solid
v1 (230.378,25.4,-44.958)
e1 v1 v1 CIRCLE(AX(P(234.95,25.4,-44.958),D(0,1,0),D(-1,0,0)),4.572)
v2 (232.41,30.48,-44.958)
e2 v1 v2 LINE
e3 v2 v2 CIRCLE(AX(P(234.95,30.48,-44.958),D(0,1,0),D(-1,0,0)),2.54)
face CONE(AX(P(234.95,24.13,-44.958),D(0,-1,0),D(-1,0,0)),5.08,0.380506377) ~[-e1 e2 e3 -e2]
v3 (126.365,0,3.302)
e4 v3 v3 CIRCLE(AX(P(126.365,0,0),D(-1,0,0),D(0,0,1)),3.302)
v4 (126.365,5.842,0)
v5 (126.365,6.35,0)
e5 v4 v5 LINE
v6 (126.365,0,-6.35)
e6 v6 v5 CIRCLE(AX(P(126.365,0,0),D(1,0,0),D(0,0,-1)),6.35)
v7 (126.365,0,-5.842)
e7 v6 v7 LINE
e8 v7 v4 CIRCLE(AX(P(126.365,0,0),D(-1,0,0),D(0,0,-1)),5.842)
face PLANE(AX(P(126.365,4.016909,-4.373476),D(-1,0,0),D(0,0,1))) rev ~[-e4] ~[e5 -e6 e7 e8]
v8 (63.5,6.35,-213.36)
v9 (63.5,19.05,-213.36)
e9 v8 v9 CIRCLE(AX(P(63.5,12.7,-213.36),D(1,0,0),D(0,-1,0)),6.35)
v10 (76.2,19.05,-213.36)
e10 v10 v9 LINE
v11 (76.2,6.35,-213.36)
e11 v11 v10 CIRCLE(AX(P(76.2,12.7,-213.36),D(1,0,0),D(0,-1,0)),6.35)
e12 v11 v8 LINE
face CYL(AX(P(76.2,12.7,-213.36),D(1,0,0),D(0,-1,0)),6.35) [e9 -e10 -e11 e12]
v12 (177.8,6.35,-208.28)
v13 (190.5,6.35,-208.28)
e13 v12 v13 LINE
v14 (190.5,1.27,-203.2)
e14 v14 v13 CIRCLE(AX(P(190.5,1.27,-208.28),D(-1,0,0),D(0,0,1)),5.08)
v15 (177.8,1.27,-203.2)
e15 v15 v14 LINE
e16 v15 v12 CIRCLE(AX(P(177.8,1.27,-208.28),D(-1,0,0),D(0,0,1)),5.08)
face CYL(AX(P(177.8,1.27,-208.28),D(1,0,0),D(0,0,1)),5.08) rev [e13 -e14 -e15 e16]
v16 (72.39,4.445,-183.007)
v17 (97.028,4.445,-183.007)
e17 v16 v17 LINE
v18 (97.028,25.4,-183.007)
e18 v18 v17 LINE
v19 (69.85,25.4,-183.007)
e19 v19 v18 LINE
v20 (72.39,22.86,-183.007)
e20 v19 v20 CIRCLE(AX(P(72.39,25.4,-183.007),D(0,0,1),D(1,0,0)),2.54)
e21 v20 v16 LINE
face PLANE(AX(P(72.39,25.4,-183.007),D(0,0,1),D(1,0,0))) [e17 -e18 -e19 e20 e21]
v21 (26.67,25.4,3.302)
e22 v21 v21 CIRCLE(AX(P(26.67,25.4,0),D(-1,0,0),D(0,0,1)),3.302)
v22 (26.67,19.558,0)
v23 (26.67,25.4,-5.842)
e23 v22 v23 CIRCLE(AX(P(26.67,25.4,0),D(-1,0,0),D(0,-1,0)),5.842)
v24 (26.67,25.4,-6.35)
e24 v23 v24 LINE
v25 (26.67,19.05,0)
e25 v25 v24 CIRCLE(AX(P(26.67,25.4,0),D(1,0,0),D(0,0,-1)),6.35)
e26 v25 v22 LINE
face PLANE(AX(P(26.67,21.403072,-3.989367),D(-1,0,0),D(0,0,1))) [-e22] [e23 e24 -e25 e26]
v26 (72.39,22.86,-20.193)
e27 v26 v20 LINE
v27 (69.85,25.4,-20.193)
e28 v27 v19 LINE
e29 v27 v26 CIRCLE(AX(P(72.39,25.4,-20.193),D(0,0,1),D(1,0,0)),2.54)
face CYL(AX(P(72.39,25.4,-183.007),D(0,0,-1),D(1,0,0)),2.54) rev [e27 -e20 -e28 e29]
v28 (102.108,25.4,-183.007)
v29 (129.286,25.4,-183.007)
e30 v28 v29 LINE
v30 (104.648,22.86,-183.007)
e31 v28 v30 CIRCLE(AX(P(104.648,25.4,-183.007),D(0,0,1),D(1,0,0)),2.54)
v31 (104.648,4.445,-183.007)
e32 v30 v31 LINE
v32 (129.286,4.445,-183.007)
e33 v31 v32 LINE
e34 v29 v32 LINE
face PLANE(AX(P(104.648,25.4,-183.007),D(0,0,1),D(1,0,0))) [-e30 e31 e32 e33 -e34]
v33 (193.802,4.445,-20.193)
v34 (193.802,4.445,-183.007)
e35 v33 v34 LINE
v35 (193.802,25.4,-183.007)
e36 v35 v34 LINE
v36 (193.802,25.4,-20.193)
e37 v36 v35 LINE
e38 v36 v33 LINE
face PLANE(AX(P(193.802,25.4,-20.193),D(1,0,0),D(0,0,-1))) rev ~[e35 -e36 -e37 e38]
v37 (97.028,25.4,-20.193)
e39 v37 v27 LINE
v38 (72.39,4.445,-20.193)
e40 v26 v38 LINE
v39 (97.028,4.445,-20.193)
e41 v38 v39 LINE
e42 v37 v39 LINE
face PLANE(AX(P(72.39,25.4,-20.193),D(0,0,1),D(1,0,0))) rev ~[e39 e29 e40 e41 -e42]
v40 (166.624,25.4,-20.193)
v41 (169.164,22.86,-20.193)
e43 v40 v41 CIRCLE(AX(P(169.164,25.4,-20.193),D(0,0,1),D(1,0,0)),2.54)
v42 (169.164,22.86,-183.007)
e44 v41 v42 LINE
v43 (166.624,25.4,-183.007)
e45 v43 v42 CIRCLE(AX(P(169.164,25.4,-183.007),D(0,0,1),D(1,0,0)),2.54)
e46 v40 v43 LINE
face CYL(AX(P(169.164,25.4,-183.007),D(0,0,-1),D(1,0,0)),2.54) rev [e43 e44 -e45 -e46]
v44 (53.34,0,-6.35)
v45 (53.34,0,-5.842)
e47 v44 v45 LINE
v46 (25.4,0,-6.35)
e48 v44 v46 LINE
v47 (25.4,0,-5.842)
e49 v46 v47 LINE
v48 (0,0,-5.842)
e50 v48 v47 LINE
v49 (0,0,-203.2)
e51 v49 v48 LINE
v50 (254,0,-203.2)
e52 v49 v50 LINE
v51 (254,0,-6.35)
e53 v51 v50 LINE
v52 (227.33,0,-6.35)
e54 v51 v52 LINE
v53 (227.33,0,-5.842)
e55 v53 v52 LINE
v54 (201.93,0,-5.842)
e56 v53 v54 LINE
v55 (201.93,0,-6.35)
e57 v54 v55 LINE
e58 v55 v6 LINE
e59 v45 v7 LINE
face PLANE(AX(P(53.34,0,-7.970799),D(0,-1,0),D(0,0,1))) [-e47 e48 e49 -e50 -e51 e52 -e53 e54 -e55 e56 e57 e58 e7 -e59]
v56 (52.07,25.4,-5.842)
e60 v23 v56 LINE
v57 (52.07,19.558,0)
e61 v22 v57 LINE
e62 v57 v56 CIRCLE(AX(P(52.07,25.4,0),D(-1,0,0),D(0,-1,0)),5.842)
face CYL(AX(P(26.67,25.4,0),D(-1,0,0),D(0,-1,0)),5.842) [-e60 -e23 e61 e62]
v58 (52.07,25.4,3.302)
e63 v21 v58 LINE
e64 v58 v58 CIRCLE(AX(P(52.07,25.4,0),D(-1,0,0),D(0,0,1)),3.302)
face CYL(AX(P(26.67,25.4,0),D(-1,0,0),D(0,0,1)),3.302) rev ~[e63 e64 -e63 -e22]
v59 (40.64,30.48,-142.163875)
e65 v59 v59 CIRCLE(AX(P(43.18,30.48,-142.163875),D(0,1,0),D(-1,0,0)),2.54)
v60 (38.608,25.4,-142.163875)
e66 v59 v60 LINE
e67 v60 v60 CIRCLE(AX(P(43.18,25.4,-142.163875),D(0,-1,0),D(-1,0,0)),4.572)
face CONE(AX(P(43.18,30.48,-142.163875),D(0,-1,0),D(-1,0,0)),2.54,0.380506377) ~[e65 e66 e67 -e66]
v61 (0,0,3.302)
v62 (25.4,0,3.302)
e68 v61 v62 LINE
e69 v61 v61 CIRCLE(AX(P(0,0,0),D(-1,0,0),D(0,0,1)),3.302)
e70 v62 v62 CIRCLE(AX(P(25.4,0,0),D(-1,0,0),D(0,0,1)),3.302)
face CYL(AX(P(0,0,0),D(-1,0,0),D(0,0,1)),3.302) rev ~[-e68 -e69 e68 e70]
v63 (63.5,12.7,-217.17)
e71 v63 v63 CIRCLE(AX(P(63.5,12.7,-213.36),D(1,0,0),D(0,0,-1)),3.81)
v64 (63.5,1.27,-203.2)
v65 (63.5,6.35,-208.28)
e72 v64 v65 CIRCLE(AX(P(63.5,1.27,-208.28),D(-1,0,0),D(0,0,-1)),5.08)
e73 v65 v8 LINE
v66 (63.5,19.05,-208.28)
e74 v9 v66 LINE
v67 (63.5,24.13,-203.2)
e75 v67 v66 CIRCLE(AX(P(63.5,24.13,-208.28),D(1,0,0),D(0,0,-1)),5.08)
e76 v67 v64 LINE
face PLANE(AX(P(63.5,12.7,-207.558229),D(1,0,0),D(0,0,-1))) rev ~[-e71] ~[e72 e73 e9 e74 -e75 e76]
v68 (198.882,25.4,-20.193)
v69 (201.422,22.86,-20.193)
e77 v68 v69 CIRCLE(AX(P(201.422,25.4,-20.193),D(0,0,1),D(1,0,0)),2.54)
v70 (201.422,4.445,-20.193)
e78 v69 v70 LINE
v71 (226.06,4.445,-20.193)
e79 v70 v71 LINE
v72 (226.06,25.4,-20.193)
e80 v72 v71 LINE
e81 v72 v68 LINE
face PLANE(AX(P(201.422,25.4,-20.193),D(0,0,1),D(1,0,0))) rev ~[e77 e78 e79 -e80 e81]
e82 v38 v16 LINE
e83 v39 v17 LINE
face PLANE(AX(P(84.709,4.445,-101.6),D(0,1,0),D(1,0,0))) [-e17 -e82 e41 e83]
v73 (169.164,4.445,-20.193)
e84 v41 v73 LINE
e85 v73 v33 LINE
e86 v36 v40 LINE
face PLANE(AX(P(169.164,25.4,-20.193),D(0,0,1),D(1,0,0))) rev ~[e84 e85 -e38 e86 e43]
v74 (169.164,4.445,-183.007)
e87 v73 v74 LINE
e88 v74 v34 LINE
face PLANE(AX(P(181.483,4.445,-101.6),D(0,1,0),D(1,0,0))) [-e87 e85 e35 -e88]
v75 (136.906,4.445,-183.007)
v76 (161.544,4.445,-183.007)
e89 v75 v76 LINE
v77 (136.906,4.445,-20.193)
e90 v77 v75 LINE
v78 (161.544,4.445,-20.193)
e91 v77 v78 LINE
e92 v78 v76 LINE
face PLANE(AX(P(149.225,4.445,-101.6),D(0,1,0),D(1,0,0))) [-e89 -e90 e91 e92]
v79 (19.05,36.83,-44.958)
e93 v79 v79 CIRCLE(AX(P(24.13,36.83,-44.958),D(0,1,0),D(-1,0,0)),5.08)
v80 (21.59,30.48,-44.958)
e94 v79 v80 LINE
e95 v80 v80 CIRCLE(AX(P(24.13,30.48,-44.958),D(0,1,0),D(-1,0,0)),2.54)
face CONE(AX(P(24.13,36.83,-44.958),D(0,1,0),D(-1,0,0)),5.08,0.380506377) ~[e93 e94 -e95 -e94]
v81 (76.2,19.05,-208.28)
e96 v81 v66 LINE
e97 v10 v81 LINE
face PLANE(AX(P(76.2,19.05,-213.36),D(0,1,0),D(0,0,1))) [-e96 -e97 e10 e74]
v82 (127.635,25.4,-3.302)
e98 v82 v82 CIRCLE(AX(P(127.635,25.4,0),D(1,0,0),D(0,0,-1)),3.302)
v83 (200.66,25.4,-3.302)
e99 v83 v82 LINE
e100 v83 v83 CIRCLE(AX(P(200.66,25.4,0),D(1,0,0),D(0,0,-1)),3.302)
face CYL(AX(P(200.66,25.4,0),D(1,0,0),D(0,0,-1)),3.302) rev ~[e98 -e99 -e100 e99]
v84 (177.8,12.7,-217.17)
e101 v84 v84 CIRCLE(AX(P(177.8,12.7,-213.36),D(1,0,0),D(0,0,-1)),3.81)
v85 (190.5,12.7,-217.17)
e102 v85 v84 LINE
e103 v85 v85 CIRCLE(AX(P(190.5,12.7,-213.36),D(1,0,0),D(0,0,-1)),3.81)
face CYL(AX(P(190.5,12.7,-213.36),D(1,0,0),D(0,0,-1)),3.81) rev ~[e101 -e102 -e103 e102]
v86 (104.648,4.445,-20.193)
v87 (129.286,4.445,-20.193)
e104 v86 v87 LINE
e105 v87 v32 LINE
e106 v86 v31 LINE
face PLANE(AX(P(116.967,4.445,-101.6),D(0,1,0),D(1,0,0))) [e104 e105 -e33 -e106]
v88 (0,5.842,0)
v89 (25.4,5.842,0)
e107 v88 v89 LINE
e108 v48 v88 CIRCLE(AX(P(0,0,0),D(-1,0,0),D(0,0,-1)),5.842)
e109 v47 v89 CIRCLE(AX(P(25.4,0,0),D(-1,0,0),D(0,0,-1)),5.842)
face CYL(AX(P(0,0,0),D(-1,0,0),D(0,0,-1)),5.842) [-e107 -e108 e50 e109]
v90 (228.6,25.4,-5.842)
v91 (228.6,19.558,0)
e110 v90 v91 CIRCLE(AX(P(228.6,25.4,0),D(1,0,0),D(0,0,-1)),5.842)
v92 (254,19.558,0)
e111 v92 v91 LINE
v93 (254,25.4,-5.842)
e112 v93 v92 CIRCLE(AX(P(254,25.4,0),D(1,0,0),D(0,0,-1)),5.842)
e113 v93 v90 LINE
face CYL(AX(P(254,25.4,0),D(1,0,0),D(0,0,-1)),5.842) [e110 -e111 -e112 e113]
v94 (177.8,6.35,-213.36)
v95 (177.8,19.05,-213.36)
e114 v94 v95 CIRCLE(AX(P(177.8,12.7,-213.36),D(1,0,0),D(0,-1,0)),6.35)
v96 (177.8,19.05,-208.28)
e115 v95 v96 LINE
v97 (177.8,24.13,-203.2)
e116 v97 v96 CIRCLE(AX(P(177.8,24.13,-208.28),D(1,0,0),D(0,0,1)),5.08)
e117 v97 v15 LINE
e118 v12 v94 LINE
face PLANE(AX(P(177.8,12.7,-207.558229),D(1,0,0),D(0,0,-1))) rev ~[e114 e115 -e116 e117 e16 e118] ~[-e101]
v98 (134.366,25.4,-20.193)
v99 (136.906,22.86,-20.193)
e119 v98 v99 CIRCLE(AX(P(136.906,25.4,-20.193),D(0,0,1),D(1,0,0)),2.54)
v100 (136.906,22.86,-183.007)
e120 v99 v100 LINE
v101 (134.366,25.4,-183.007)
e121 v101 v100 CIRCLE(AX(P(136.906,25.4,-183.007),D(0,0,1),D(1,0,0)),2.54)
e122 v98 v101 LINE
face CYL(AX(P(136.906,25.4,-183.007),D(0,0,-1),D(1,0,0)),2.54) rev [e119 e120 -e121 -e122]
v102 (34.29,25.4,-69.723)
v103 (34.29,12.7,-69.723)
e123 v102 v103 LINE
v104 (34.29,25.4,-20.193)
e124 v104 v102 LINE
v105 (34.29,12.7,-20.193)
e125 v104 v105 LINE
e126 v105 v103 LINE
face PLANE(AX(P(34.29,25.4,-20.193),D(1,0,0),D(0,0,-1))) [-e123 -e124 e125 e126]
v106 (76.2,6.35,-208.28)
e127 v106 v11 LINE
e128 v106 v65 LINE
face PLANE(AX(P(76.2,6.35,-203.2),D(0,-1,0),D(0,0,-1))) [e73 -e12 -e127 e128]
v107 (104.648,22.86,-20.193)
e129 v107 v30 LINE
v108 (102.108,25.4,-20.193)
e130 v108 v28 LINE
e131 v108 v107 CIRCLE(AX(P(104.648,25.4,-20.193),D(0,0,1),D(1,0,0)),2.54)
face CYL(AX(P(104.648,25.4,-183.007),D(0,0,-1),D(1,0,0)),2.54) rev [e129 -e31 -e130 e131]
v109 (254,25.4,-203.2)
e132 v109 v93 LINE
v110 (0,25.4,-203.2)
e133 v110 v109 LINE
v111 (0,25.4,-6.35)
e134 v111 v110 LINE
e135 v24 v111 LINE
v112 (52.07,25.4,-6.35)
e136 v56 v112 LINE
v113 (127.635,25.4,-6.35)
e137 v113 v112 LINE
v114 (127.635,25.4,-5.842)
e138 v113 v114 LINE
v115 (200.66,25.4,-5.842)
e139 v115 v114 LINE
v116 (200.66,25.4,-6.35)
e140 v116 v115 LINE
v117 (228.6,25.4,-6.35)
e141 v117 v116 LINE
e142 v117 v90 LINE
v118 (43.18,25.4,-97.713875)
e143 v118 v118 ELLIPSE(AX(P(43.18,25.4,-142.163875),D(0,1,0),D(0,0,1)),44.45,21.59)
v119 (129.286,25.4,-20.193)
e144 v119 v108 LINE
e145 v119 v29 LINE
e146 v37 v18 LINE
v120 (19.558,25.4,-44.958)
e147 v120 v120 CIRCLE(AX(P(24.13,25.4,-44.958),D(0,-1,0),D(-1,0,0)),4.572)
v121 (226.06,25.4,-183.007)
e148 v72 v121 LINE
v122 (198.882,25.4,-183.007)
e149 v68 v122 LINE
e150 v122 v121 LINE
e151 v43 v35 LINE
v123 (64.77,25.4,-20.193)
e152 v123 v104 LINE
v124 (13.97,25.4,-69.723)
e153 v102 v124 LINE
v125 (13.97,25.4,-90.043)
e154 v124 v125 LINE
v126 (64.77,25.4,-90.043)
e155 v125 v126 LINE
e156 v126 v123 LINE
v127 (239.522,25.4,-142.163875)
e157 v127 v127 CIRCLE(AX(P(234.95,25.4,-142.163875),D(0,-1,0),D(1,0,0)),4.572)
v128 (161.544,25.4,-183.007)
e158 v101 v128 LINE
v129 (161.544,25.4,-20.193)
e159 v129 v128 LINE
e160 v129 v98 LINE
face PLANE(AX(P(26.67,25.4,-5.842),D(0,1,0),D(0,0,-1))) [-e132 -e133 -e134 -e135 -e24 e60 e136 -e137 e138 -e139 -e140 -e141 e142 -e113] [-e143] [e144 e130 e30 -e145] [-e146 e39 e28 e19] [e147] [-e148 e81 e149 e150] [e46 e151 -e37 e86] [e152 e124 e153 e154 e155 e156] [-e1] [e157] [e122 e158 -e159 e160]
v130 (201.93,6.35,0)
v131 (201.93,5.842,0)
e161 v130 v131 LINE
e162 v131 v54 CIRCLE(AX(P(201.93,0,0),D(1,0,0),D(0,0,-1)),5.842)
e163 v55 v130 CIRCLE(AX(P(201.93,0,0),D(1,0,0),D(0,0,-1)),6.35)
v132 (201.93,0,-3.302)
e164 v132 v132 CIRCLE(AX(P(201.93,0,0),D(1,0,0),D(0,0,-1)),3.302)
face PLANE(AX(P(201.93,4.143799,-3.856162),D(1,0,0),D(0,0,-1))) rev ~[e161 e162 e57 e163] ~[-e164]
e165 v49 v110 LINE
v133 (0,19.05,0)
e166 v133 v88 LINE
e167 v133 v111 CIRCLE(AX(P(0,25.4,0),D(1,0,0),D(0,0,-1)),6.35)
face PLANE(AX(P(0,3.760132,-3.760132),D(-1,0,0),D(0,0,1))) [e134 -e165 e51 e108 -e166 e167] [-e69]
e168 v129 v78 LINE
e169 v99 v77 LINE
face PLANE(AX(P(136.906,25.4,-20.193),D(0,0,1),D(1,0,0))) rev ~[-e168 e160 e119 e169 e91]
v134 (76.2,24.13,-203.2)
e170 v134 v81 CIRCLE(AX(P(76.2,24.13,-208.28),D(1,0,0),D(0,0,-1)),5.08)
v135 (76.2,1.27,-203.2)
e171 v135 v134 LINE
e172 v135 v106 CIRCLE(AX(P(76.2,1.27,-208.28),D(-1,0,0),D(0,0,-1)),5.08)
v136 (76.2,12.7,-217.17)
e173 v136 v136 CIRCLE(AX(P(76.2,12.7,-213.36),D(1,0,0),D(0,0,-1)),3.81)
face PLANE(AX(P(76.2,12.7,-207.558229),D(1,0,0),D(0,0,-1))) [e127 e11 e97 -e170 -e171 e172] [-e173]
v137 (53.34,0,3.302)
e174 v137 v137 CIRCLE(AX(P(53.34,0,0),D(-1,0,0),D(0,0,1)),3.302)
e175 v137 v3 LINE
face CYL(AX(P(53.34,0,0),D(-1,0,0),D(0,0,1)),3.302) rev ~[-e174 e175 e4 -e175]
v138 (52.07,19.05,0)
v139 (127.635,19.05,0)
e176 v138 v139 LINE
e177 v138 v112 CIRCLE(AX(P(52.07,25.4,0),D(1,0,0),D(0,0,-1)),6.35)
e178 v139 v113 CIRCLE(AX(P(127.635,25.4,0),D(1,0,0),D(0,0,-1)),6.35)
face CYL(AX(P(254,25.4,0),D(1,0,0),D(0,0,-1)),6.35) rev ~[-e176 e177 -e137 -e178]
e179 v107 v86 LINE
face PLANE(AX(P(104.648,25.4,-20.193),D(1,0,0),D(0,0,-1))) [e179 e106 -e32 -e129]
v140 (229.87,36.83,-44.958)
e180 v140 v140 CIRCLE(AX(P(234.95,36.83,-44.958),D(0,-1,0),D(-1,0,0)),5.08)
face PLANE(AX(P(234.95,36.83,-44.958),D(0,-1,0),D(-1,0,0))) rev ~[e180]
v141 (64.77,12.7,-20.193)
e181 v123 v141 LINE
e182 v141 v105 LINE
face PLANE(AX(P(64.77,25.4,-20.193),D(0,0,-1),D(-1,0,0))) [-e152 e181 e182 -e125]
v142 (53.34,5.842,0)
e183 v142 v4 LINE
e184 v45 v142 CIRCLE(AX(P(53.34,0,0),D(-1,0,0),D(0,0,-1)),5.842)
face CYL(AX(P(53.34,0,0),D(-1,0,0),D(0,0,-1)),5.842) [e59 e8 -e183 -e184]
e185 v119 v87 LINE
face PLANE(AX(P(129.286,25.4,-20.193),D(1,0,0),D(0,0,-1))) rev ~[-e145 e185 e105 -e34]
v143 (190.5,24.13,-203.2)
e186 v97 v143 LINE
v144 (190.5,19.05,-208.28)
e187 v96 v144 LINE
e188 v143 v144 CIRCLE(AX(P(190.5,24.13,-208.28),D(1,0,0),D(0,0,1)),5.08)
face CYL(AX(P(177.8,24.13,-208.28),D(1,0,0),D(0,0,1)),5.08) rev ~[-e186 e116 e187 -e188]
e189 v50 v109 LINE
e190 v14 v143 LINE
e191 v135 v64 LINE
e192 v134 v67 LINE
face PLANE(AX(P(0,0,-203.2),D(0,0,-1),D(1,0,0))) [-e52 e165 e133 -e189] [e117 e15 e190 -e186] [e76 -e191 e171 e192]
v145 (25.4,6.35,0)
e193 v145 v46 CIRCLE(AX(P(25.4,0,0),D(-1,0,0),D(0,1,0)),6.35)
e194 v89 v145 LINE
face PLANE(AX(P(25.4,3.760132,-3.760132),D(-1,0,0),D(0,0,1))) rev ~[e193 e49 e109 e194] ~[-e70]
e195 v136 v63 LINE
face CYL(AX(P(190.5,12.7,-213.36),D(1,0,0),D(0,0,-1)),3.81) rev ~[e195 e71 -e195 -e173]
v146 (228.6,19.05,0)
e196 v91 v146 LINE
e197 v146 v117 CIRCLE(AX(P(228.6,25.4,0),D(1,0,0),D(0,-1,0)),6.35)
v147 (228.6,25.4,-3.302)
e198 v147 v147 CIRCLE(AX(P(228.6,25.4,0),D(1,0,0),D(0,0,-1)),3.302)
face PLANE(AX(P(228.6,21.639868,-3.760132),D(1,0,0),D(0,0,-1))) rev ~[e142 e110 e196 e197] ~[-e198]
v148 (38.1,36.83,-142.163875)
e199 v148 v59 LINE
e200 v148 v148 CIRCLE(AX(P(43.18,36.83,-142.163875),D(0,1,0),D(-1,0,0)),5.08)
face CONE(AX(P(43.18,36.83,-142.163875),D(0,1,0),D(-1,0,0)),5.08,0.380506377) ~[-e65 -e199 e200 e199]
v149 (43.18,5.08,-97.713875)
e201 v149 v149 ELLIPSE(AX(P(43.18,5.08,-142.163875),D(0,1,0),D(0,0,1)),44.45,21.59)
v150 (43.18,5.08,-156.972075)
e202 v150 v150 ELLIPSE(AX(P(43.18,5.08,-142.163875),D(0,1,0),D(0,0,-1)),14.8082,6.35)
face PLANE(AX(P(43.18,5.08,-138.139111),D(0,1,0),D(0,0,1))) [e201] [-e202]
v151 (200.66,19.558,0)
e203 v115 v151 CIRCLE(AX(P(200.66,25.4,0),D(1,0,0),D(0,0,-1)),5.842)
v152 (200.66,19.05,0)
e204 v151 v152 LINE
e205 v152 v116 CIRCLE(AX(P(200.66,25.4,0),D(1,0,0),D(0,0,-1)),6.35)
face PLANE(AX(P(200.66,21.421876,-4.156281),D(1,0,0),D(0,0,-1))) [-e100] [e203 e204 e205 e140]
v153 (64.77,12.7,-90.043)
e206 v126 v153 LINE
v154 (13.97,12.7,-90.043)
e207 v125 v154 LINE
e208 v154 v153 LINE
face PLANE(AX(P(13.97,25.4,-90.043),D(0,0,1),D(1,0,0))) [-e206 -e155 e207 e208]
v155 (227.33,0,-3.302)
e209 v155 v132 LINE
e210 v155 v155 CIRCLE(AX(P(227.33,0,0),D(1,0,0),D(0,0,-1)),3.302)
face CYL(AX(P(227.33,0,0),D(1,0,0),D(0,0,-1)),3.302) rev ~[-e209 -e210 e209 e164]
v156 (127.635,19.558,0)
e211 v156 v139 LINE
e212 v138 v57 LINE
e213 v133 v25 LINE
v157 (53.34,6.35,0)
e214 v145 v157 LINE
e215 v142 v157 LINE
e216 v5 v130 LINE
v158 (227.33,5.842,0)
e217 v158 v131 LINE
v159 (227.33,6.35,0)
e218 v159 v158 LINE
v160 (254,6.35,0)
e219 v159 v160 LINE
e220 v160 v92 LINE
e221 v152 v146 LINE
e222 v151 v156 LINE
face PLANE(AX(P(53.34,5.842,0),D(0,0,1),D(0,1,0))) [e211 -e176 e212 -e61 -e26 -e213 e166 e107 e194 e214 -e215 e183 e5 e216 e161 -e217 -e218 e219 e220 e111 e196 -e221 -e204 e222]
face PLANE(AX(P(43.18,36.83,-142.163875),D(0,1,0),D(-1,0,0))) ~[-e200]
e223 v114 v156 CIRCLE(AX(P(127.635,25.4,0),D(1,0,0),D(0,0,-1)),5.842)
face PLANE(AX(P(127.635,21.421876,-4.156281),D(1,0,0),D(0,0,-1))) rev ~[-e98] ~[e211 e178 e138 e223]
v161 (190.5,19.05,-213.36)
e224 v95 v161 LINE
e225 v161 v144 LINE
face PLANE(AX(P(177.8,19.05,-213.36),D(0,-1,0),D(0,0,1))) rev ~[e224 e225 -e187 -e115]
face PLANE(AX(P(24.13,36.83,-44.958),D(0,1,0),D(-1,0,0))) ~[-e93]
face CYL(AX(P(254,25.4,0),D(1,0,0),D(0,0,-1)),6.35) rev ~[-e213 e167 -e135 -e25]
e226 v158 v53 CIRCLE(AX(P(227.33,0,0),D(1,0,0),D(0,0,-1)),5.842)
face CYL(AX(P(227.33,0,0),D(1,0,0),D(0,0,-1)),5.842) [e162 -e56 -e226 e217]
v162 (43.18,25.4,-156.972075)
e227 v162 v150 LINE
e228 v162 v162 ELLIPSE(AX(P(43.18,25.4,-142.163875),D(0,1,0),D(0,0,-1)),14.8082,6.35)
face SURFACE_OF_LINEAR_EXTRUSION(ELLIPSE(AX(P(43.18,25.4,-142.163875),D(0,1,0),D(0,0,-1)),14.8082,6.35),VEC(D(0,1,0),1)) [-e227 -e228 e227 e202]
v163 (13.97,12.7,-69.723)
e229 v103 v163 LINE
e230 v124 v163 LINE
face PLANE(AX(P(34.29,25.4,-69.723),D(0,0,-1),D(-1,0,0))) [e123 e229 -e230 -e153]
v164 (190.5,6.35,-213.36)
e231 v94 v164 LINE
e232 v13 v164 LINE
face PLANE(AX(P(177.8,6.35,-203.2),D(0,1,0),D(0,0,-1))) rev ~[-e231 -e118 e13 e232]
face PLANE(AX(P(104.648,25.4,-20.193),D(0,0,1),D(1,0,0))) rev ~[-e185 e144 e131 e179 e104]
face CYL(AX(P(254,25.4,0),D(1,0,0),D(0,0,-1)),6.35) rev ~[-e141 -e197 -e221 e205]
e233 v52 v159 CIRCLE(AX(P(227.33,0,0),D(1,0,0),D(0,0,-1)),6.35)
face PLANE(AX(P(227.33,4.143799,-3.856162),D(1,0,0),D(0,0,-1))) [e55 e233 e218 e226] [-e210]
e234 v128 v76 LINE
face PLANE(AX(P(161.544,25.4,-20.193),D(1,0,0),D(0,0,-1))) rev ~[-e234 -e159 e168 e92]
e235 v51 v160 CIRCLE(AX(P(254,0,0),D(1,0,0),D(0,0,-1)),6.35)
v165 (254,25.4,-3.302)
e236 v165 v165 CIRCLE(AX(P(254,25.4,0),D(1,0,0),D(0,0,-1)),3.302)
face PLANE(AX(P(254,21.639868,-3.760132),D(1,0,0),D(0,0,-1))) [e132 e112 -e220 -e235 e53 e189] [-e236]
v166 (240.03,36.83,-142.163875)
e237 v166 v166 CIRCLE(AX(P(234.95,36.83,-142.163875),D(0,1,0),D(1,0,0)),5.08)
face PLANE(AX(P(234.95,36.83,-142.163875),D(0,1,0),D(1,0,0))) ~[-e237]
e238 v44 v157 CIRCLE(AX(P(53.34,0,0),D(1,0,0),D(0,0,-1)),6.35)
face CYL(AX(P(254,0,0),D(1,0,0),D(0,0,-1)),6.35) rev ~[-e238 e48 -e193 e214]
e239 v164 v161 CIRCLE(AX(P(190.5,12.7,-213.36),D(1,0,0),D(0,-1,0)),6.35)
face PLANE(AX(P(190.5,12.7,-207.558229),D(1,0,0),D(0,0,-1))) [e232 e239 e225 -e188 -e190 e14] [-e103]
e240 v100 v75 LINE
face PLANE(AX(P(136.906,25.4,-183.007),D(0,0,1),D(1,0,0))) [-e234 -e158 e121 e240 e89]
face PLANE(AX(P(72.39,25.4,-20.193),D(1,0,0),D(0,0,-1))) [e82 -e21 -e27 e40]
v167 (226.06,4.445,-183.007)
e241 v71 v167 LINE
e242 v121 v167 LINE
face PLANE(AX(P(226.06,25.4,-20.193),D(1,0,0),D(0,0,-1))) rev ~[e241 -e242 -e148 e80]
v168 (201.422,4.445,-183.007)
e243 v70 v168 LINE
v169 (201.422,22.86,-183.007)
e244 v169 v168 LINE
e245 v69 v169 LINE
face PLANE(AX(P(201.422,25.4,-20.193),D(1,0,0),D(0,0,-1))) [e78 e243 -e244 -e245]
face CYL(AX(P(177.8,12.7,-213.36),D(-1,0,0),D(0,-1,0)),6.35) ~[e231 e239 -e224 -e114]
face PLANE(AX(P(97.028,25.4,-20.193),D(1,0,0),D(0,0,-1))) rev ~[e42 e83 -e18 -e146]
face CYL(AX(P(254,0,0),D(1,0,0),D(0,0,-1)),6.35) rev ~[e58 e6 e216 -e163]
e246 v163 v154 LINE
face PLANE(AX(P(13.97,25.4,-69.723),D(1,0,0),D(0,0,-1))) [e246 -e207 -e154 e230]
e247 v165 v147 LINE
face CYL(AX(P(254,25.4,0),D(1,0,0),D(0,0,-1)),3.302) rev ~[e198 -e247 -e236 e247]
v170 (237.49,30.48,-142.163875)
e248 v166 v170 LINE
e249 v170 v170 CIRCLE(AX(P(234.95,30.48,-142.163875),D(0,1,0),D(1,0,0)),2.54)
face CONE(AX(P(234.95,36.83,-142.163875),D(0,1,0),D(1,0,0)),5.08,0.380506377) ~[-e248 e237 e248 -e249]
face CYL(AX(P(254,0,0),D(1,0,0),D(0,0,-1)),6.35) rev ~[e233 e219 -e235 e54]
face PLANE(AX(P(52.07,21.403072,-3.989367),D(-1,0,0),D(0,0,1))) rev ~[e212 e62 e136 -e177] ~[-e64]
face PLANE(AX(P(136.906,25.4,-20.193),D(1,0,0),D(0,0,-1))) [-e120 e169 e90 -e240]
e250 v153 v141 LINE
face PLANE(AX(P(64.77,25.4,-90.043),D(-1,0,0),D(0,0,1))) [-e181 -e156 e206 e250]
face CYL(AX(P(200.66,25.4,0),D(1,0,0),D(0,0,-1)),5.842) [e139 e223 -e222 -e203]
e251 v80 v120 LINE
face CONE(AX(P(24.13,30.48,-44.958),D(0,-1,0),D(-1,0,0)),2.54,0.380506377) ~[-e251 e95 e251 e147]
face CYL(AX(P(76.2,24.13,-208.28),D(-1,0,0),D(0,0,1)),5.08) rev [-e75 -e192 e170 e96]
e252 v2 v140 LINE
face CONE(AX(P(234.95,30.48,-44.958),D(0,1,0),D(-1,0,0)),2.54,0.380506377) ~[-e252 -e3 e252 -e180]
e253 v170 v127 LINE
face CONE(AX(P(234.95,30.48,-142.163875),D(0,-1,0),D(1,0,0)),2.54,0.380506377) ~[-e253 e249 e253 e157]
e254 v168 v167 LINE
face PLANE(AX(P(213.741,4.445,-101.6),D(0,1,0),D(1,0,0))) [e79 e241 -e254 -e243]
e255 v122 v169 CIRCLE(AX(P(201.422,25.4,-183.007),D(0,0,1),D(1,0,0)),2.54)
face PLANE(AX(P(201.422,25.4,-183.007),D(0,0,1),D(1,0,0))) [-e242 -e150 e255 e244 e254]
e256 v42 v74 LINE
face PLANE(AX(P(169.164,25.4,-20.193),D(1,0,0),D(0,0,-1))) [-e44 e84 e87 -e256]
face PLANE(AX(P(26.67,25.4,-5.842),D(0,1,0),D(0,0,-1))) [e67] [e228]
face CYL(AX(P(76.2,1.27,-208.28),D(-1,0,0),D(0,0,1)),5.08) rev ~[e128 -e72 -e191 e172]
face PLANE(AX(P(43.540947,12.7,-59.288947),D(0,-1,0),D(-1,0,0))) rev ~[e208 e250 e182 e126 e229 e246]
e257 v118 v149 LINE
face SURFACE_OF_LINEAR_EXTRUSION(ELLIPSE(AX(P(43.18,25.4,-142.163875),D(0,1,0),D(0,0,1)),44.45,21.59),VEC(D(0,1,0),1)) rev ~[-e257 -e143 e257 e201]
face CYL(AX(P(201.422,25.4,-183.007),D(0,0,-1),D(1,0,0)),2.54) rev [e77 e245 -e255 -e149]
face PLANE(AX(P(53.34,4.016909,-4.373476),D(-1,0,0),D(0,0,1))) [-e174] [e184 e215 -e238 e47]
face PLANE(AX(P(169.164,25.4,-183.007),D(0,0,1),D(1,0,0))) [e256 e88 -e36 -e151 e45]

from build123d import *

# Parameters (mm, degrees)
SKETCH1_W            = 254
SKETCH1_H            = 203.2
BOSS_EXTRUDE2_DEPTH  = 25.4
SKETCH2_W            = 24.638
SKETCH2_H            = 162.814
CUT_EXTRUDE1_DEPTH   = 20.955
SKETCH3_R            = 2.54
CUT_EXTRUDE2_DEPTH   = 162.814
SKETCH4_R            = 6.35
CUT_EXTRUDE3_DEPTH   = 330.708
SKETCH5_R            = 5.842
SKETCH5_R_2          = 3.302
BOSS_EXTRUDE3_DEPTH  = 25.4
SKETCH7_R            = 5.842
SKETCH7_R_2          = 3.302
BOSS_EXTRUDE4_DEPTH  = 25.4
SKETCH9_R            = 5.842
SKETCH9_R_2          = 3.302
BOSS_EXTRUDE5_DEPTH  = 73.025
SKETCH11_R           = 6.35
CUT_EXTRUDE4_DEPTH   = 271.907
SKETCH12_R           = 5.842
SKETCH12_R_2         = 3.302
BOSS_EXTRUDE6_DEPTH  = 25.4
SKETCH14_R           = 5.842
SKETCH14_R_2         = 3.302
BOSS_EXTRUDE7_DEPTH  = 73.025
SKETCH17_R           = 5.842
SKETCH17_R_2         = 3.302
BOSS_EXTRUDE8_DEPTH  = 25.4
CUT_EXTRUDE5_DEPTH   = 12.7
SKETCH20_RX          = 44.45
SKETCH20_RY          = 21.59
SKETCH20_RX_2        = 14.8082
SKETCH20_RY_2        = 6.35
CUT_EXTRUDE6_DEPTH   = 20.32
SKETCH24_R           = 2.54
BOSS_EXTRUDE9_DEPTH  = 5.08
SKETCH25_R           = 2.54
BOSS_EXTRUDE10_DEPTH = 5.08
SKETCH28_R           = 6.35
BOSS_EXTRUDE11_DEPTH = 12.7
SKETCH30_R           = 6.35
BOSS_EXTRUDE12_DEPTH = 12.7
SKETCH31_R           = 3.81
CUT_EXTRUDE7_DEPTH   = 150.114
FILLET1_R            = 5.08


with BuildPart() as part:
    # Sketch1 → Boss-Extrude2 (new body)
    with BuildSketch(Plane(origin=(0, 0, 0), x_dir=(1, 0, 0), z_dir=(0, 1, 0))):
        with Locations((127, 101.6)):
            Rectangle(SKETCH1_W, SKETCH1_H)
    extrude(amount=BOSS_EXTRUDE2_DEPTH)

    # Sketch2 → Cut-Extrude1 (cut)
    with BuildSketch(Plane(origin=(0, 25.4, 0), x_dir=(1, 0, 0), z_dir=(0, 1, 0))):
        with Locations((84.709, 101.6)):
            Rectangle(SKETCH2_W, SKETCH2_H)
        with Locations((116.967, 101.6)):
            Rectangle(SKETCH2_W, SKETCH2_H)
        with Locations((149.225, 101.6)):
            Rectangle(SKETCH2_W, SKETCH2_H)
        with Locations((181.483, 101.6)):
            Rectangle(SKETCH2_W, SKETCH2_H)
        with Locations((213.741, 101.6)):
            Rectangle(SKETCH2_W, SKETCH2_H)
    extrude(amount=-CUT_EXTRUDE1_DEPTH, mode=Mode.SUBTRACT)

    # Sketch3 → Cut-Extrude2 (cut)
    with BuildSketch(Plane.XY.offset(-183.007)):
        with Locations((72.39, 25.4)):
            Circle(SKETCH3_R)
        with Locations((104.648, 25.4)):
            Circle(SKETCH3_R)
        with Locations((136.906, 25.4)):
            Circle(SKETCH3_R)
        with Locations((169.164, 25.4)):
            Circle(SKETCH3_R)
        with Locations((201.422, 25.4)):
            Circle(SKETCH3_R)
    extrude(amount=CUT_EXTRUDE2_DEPTH, mode=Mode.SUBTRACT)

    # Sketch4 → Cut-Extrude3 (cut)
    with BuildSketch(Plane(origin=(254, 0, 0), x_dir=(0, 0, -1), z_dir=(1, 0, 0))):
        with Locations((0, 25.4)):
            Circle(SKETCH4_R)
    extrude(amount=-CUT_EXTRUDE3_DEPTH, mode=Mode.SUBTRACT)

    # Sketch5 → Boss-Extrude3 (add)
    with BuildSketch(Plane(origin=(254, 0, 0), x_dir=(0, 0, -1), z_dir=(1, 0, 0))):
        with BuildLine():
            ThreePointArc((5.842, 25.4), (4.130917816, 21.269082184), (0, 19.558))
            Line((0, 19.558), (0, 19.05))
            ThreePointArc((0, 19.05), (4.490128061, 20.909871939), (6.35, 25.4))
            Line((6.35, 25.4), (5.842, 25.4))
        make_face()
        with Locations((0, 25.4)):
            Circle(SKETCH5_R)
        with Locations((0, 25.4)):
            Circle(SKETCH5_R_2, mode=Mode.SUBTRACT)
    extrude(amount=-BOSS_EXTRUDE3_DEPTH)

    # Sketch7 → Boss-Extrude4 (add)
    with BuildSketch(Plane.ZY.offset(-26.67)):
        with BuildLine():
            ThreePointArc((0, 19.558), (-4.130917816, 21.269082184), (-5.842, 25.4))
            Line((-5.842, 25.4), (-6.902928933, 25.4))
            Line((-6.902928933, 25.4), (-6.372464466, 22.098))
            Line((-6.372464466, 22.098), (-4.097007923, 19.395027099))
            Line((-4.097007923, 19.395027099), (0, 18.4548232))
            Line((0, 18.4548232), (0, 19.558))
        make_face()
        with Locations((0, 25.4)):
            Circle(SKETCH7_R)
        with Locations((0, 25.4)):
            Circle(SKETCH7_R_2, mode=Mode.SUBTRACT)
    extrude(amount=-BOSS_EXTRUDE4_DEPTH)

    # Sketch9 → Boss-Extrude5 (add)
    with BuildSketch(Plane(origin=(200.66, 0, 0), x_dir=(0, 0, -1), z_dir=(1, 0, 0))):
        with BuildLine():
            Line((7.296114835, 25.4), (5.842, 25.4))
            ThreePointArc((5.842, 25.4), (4.130917816, 21.269082184), (0, 19.558))
            Line((0, 19.558), (0, 18.462733019))
            Line((0, 18.462733019), (2.519044433, 18.922066711))
            Line((2.519044433, 18.922066711), (5.842, 20.162267681))
            Line((5.842, 20.162267681), (7.296114835, 25.4))
        make_face()
        with Locations((0, 25.4)):
            Circle(SKETCH9_R)
        with Locations((0, 25.4)):
            Circle(SKETCH9_R_2, mode=Mode.SUBTRACT)
    extrude(amount=-BOSS_EXTRUDE5_DEPTH)

    # Sketch11 → Cut-Extrude4 (cut)
    with BuildSketch(Plane(origin=(254, 0, 0), x_dir=(0, 0, -1), z_dir=(1, 0, 0))):
        Circle(SKETCH11_R)
    extrude(amount=-CUT_EXTRUDE4_DEPTH, mode=Mode.SUBTRACT)

    # Sketch12 → Boss-Extrude6 (add)
    with BuildSketch(Plane.ZY):
        with BuildLine():
            ThreePointArc((-5.842, 0), (-4.130917816, 4.130917816), (0, 5.842))
            Line((0, 5.842), (0, 6.35))
            ThreePointArc((0, 6.35), (-4.490128061, 4.490128061), (-6.35, 0))
            Line((-6.35, 0), (-5.842, 0))
        make_face()
        Circle(SKETCH12_R)
        Circle(SKETCH12_R_2, mode=Mode.SUBTRACT)
    extrude(amount=-BOSS_EXTRUDE6_DEPTH)

    # Sketch14 → Boss-Extrude7 (add)
    with BuildSketch(Plane.ZY.offset(-53.34)):
        with BuildLine():
            ThreePointArc((-5.842, 0), (-4.130917816, 4.130917816), (0, 5.842))
            Line((0, 5.842), (0, 7.34197102))
            Line((0, 7.34197102), (-6.416971857, 5.34789306))
            Line((-6.416971857, 5.34789306), (-7.97079884, 0))
            Line((-7.97079884, 0), (-5.842, 0))
        make_face()
        Circle(SKETCH14_R)
        Circle(SKETCH14_R_2, mode=Mode.SUBTRACT)
    extrude(amount=-BOSS_EXTRUDE7_DEPTH)

    # Sketch17 → Boss-Extrude8 (add)
    with BuildSketch(Plane(origin=(227.33, 0, 0), x_dir=(0, 0, -1), z_dir=(1, 0, 0))):
        with BuildLine():
            Line((0, 7.437449264), (0, 5.842))
            ThreePointArc((0, 5.842), (4.130917816, 4.130917816), (5.842, 0))
            Line((5.842, 0), (6.728774343, 0))
            Line((6.728774343, 0), (5.842, 4.854950807))
            Line((5.842, 4.854950807), (0, 7.437449264))
        make_face()
        Circle(SKETCH17_R)
        Circle(SKETCH17_R_2, mode=Mode.SUBTRACT)
    extrude(amount=-BOSS_EXTRUDE8_DEPTH)

    # Sketch19 → Cut-Extrude5 (cut)
    with BuildSketch(Plane(origin=(0, 25.4, 0), x_dir=(1, 0, 0), z_dir=(0, 1, 0))):
        Polygon((13.97, 90.043), (64.77, 90.043), (64.77, 20.193), (34.29, 20.193), (34.29, 69.723), (13.97, 69.723), align=None)
    extrude(amount=-CUT_EXTRUDE5_DEPTH, mode=Mode.SUBTRACT)

    # Sketch20 → Cut-Extrude6 (cut)
    with BuildSketch(Plane(origin=(0, 25.4, 0), x_dir=(1, 0, 0), z_dir=(0, 1, 0))):
        with Locations(Location((43.18, 142.163874998), (0, 0, -90))):
            Ellipse(SKETCH20_RX, SKETCH20_RY)
        with Locations(Location((43.18, 142.163874998), (0, 0, 90))):
            Ellipse(SKETCH20_RX_2, SKETCH20_RY_2, mode=Mode.SUBTRACT)
    extrude(amount=-CUT_EXTRUDE6_DEPTH, mode=Mode.SUBTRACT)

    # Sketch24 → Boss-Extrude9 (add)
    with BuildSketch(Plane(origin=(0, 25.4, 0), x_dir=(1, 0, 0), z_dir=(0, 1, 0))):
        with Locations((24.13, 44.958)):
            Circle(SKETCH24_R)
        with Locations((234.95, 44.958)):
            Circle(SKETCH24_R)
    extrude(amount=BOSS_EXTRUDE9_DEPTH)

    # Sketch25 → Boss-Extrude10 (add)
    with BuildSketch(Plane(origin=(0, 25.4, 0), x_dir=(1, 0, 0), z_dir=(0, 1, 0))):
        with Locations((43.18, 142.163874998)):
            Circle(SKETCH25_R)
        with Locations((234.95, 142.163874998)):
            Circle(SKETCH25_R)
    extrude(amount=BOSS_EXTRUDE10_DEPTH)

    # Sketch28 → Boss-Extrude11 (add)
    with BuildSketch(Plane(origin=(177.8, 0, 0), x_dir=(0, 0, -1), z_dir=(1, 0, 0))):
        with BuildLine():
            Line((203.2, 19.05), (203.2, 12.7))
            Line((203.2, 12.7), (203.2, 6.35))
            Line((203.2, 6.35), (213.36, 6.35))
            ThreePointArc((213.36, 6.35), (207.01, 12.7), (213.36, 19.05))
            Line((213.36, 19.05), (203.2, 19.05))
        make_face()
        with Locations((213.36, 12.7)):
            Circle(SKETCH28_R)
    extrude(amount=BOSS_EXTRUDE11_DEPTH)

    # Sketch30 → Boss-Extrude12 (add)
    with BuildSketch(Plane(origin=(76.2, 0, 0), x_dir=(0, 0, -1), z_dir=(1, 0, 0))):
        with BuildLine():
            Line((213.36, 19.05), (203.2, 19.05))
            Line((203.2, 19.05), (203.2, 6.35))
            Line((203.2, 6.35), (213.36, 6.35))
            ThreePointArc((213.36, 6.35), (207.01, 12.7), (213.36, 19.05))
        make_face()
        with Locations((213.36, 12.7)):
            Circle(SKETCH30_R)
    extrude(amount=-BOSS_EXTRUDE12_DEPTH)

    # Sketch31 → Cut-Extrude7 (cut)
    with BuildSketch(Plane(origin=(190.5, 0, 0), x_dir=(0, 0, -1), z_dir=(1, 0, 0))):
        with Locations((213.36, 12.7)):
            Circle(SKETCH31_R)
    extrude(amount=-CUT_EXTRUDE7_DEPTH, mode=Mode.SUBTRACT)

    # Fillet1
    fillet1_edges = [part.edges().sort_by_distance(p)[0] for p in [
        (184.15, 6.35, -203.2),
        (184.15, 19.05, -203.2),
        (69.85, 6.35, -203.2),
        (69.85, 19.05, -203.2),
    ]]
    fillet(fillet1_edges, radius=FILLET1_R)

    # Sketch34 → Revolve1 (revolve)
    with BuildSketch(Plane(origin=(0, 0, -142.163874998), x_dir=(-1, 0, 0), z_dir=(0, 0, -1))):
        Polygon((-234.95, 24.13), (-234.95, 36.83), (-240.03, 36.83), (-237.49, 30.48), (-240.03, 24.13), align=None)
    revolve(axis=Axis((234.95, 24.13, -142.163874998), (0, 1, 0)))

    # Sketch35 → Revolve2 (revolve)
    with BuildSketch(Plane(origin=(0, 0, -142.163874998), x_dir=(-1, 0, 0), z_dir=(0, 0, -1))):
        Polygon((-43.18, 24.13), (-43.18, 36.83), (-38.1, 36.83), (-40.64, 30.48), (-38.1, 24.13), align=None)
    revolve(axis=Axis((43.18, 24.13, -142.163874998), (0, 1, 0)))

    # Sketch38 → Revolve3 (revolve)
    with BuildSketch(Plane(origin=(0, 0, -44.958), x_dir=(-1, 0, 0), z_dir=(0, 0, -1))):
        Polygon((-232.41, 30.48), (-229.87, 36.83), (-234.95, 36.83), (-234.95, 24.13), (-229.87, 24.13), align=None)
    revolve(axis=Axis((234.95, 36.83, -44.958), (0, -1, 0)))

    # Sketch39 → Revolve7 (revolve)
    with BuildSketch(Plane(origin=(0, 0, -44.958), x_dir=(-1, 0, 0), z_dir=(0, 0, -1))):
        Polygon((-24.13, 24.13), (-24.13, 36.83), (-19.05, 36.83), (-21.59, 30.48), (-19.05, 24.13), align=None)
    revolve(axis=Axis((24.13, 24.13, -44.958), (0, 1, 0)))


solid = part.part
